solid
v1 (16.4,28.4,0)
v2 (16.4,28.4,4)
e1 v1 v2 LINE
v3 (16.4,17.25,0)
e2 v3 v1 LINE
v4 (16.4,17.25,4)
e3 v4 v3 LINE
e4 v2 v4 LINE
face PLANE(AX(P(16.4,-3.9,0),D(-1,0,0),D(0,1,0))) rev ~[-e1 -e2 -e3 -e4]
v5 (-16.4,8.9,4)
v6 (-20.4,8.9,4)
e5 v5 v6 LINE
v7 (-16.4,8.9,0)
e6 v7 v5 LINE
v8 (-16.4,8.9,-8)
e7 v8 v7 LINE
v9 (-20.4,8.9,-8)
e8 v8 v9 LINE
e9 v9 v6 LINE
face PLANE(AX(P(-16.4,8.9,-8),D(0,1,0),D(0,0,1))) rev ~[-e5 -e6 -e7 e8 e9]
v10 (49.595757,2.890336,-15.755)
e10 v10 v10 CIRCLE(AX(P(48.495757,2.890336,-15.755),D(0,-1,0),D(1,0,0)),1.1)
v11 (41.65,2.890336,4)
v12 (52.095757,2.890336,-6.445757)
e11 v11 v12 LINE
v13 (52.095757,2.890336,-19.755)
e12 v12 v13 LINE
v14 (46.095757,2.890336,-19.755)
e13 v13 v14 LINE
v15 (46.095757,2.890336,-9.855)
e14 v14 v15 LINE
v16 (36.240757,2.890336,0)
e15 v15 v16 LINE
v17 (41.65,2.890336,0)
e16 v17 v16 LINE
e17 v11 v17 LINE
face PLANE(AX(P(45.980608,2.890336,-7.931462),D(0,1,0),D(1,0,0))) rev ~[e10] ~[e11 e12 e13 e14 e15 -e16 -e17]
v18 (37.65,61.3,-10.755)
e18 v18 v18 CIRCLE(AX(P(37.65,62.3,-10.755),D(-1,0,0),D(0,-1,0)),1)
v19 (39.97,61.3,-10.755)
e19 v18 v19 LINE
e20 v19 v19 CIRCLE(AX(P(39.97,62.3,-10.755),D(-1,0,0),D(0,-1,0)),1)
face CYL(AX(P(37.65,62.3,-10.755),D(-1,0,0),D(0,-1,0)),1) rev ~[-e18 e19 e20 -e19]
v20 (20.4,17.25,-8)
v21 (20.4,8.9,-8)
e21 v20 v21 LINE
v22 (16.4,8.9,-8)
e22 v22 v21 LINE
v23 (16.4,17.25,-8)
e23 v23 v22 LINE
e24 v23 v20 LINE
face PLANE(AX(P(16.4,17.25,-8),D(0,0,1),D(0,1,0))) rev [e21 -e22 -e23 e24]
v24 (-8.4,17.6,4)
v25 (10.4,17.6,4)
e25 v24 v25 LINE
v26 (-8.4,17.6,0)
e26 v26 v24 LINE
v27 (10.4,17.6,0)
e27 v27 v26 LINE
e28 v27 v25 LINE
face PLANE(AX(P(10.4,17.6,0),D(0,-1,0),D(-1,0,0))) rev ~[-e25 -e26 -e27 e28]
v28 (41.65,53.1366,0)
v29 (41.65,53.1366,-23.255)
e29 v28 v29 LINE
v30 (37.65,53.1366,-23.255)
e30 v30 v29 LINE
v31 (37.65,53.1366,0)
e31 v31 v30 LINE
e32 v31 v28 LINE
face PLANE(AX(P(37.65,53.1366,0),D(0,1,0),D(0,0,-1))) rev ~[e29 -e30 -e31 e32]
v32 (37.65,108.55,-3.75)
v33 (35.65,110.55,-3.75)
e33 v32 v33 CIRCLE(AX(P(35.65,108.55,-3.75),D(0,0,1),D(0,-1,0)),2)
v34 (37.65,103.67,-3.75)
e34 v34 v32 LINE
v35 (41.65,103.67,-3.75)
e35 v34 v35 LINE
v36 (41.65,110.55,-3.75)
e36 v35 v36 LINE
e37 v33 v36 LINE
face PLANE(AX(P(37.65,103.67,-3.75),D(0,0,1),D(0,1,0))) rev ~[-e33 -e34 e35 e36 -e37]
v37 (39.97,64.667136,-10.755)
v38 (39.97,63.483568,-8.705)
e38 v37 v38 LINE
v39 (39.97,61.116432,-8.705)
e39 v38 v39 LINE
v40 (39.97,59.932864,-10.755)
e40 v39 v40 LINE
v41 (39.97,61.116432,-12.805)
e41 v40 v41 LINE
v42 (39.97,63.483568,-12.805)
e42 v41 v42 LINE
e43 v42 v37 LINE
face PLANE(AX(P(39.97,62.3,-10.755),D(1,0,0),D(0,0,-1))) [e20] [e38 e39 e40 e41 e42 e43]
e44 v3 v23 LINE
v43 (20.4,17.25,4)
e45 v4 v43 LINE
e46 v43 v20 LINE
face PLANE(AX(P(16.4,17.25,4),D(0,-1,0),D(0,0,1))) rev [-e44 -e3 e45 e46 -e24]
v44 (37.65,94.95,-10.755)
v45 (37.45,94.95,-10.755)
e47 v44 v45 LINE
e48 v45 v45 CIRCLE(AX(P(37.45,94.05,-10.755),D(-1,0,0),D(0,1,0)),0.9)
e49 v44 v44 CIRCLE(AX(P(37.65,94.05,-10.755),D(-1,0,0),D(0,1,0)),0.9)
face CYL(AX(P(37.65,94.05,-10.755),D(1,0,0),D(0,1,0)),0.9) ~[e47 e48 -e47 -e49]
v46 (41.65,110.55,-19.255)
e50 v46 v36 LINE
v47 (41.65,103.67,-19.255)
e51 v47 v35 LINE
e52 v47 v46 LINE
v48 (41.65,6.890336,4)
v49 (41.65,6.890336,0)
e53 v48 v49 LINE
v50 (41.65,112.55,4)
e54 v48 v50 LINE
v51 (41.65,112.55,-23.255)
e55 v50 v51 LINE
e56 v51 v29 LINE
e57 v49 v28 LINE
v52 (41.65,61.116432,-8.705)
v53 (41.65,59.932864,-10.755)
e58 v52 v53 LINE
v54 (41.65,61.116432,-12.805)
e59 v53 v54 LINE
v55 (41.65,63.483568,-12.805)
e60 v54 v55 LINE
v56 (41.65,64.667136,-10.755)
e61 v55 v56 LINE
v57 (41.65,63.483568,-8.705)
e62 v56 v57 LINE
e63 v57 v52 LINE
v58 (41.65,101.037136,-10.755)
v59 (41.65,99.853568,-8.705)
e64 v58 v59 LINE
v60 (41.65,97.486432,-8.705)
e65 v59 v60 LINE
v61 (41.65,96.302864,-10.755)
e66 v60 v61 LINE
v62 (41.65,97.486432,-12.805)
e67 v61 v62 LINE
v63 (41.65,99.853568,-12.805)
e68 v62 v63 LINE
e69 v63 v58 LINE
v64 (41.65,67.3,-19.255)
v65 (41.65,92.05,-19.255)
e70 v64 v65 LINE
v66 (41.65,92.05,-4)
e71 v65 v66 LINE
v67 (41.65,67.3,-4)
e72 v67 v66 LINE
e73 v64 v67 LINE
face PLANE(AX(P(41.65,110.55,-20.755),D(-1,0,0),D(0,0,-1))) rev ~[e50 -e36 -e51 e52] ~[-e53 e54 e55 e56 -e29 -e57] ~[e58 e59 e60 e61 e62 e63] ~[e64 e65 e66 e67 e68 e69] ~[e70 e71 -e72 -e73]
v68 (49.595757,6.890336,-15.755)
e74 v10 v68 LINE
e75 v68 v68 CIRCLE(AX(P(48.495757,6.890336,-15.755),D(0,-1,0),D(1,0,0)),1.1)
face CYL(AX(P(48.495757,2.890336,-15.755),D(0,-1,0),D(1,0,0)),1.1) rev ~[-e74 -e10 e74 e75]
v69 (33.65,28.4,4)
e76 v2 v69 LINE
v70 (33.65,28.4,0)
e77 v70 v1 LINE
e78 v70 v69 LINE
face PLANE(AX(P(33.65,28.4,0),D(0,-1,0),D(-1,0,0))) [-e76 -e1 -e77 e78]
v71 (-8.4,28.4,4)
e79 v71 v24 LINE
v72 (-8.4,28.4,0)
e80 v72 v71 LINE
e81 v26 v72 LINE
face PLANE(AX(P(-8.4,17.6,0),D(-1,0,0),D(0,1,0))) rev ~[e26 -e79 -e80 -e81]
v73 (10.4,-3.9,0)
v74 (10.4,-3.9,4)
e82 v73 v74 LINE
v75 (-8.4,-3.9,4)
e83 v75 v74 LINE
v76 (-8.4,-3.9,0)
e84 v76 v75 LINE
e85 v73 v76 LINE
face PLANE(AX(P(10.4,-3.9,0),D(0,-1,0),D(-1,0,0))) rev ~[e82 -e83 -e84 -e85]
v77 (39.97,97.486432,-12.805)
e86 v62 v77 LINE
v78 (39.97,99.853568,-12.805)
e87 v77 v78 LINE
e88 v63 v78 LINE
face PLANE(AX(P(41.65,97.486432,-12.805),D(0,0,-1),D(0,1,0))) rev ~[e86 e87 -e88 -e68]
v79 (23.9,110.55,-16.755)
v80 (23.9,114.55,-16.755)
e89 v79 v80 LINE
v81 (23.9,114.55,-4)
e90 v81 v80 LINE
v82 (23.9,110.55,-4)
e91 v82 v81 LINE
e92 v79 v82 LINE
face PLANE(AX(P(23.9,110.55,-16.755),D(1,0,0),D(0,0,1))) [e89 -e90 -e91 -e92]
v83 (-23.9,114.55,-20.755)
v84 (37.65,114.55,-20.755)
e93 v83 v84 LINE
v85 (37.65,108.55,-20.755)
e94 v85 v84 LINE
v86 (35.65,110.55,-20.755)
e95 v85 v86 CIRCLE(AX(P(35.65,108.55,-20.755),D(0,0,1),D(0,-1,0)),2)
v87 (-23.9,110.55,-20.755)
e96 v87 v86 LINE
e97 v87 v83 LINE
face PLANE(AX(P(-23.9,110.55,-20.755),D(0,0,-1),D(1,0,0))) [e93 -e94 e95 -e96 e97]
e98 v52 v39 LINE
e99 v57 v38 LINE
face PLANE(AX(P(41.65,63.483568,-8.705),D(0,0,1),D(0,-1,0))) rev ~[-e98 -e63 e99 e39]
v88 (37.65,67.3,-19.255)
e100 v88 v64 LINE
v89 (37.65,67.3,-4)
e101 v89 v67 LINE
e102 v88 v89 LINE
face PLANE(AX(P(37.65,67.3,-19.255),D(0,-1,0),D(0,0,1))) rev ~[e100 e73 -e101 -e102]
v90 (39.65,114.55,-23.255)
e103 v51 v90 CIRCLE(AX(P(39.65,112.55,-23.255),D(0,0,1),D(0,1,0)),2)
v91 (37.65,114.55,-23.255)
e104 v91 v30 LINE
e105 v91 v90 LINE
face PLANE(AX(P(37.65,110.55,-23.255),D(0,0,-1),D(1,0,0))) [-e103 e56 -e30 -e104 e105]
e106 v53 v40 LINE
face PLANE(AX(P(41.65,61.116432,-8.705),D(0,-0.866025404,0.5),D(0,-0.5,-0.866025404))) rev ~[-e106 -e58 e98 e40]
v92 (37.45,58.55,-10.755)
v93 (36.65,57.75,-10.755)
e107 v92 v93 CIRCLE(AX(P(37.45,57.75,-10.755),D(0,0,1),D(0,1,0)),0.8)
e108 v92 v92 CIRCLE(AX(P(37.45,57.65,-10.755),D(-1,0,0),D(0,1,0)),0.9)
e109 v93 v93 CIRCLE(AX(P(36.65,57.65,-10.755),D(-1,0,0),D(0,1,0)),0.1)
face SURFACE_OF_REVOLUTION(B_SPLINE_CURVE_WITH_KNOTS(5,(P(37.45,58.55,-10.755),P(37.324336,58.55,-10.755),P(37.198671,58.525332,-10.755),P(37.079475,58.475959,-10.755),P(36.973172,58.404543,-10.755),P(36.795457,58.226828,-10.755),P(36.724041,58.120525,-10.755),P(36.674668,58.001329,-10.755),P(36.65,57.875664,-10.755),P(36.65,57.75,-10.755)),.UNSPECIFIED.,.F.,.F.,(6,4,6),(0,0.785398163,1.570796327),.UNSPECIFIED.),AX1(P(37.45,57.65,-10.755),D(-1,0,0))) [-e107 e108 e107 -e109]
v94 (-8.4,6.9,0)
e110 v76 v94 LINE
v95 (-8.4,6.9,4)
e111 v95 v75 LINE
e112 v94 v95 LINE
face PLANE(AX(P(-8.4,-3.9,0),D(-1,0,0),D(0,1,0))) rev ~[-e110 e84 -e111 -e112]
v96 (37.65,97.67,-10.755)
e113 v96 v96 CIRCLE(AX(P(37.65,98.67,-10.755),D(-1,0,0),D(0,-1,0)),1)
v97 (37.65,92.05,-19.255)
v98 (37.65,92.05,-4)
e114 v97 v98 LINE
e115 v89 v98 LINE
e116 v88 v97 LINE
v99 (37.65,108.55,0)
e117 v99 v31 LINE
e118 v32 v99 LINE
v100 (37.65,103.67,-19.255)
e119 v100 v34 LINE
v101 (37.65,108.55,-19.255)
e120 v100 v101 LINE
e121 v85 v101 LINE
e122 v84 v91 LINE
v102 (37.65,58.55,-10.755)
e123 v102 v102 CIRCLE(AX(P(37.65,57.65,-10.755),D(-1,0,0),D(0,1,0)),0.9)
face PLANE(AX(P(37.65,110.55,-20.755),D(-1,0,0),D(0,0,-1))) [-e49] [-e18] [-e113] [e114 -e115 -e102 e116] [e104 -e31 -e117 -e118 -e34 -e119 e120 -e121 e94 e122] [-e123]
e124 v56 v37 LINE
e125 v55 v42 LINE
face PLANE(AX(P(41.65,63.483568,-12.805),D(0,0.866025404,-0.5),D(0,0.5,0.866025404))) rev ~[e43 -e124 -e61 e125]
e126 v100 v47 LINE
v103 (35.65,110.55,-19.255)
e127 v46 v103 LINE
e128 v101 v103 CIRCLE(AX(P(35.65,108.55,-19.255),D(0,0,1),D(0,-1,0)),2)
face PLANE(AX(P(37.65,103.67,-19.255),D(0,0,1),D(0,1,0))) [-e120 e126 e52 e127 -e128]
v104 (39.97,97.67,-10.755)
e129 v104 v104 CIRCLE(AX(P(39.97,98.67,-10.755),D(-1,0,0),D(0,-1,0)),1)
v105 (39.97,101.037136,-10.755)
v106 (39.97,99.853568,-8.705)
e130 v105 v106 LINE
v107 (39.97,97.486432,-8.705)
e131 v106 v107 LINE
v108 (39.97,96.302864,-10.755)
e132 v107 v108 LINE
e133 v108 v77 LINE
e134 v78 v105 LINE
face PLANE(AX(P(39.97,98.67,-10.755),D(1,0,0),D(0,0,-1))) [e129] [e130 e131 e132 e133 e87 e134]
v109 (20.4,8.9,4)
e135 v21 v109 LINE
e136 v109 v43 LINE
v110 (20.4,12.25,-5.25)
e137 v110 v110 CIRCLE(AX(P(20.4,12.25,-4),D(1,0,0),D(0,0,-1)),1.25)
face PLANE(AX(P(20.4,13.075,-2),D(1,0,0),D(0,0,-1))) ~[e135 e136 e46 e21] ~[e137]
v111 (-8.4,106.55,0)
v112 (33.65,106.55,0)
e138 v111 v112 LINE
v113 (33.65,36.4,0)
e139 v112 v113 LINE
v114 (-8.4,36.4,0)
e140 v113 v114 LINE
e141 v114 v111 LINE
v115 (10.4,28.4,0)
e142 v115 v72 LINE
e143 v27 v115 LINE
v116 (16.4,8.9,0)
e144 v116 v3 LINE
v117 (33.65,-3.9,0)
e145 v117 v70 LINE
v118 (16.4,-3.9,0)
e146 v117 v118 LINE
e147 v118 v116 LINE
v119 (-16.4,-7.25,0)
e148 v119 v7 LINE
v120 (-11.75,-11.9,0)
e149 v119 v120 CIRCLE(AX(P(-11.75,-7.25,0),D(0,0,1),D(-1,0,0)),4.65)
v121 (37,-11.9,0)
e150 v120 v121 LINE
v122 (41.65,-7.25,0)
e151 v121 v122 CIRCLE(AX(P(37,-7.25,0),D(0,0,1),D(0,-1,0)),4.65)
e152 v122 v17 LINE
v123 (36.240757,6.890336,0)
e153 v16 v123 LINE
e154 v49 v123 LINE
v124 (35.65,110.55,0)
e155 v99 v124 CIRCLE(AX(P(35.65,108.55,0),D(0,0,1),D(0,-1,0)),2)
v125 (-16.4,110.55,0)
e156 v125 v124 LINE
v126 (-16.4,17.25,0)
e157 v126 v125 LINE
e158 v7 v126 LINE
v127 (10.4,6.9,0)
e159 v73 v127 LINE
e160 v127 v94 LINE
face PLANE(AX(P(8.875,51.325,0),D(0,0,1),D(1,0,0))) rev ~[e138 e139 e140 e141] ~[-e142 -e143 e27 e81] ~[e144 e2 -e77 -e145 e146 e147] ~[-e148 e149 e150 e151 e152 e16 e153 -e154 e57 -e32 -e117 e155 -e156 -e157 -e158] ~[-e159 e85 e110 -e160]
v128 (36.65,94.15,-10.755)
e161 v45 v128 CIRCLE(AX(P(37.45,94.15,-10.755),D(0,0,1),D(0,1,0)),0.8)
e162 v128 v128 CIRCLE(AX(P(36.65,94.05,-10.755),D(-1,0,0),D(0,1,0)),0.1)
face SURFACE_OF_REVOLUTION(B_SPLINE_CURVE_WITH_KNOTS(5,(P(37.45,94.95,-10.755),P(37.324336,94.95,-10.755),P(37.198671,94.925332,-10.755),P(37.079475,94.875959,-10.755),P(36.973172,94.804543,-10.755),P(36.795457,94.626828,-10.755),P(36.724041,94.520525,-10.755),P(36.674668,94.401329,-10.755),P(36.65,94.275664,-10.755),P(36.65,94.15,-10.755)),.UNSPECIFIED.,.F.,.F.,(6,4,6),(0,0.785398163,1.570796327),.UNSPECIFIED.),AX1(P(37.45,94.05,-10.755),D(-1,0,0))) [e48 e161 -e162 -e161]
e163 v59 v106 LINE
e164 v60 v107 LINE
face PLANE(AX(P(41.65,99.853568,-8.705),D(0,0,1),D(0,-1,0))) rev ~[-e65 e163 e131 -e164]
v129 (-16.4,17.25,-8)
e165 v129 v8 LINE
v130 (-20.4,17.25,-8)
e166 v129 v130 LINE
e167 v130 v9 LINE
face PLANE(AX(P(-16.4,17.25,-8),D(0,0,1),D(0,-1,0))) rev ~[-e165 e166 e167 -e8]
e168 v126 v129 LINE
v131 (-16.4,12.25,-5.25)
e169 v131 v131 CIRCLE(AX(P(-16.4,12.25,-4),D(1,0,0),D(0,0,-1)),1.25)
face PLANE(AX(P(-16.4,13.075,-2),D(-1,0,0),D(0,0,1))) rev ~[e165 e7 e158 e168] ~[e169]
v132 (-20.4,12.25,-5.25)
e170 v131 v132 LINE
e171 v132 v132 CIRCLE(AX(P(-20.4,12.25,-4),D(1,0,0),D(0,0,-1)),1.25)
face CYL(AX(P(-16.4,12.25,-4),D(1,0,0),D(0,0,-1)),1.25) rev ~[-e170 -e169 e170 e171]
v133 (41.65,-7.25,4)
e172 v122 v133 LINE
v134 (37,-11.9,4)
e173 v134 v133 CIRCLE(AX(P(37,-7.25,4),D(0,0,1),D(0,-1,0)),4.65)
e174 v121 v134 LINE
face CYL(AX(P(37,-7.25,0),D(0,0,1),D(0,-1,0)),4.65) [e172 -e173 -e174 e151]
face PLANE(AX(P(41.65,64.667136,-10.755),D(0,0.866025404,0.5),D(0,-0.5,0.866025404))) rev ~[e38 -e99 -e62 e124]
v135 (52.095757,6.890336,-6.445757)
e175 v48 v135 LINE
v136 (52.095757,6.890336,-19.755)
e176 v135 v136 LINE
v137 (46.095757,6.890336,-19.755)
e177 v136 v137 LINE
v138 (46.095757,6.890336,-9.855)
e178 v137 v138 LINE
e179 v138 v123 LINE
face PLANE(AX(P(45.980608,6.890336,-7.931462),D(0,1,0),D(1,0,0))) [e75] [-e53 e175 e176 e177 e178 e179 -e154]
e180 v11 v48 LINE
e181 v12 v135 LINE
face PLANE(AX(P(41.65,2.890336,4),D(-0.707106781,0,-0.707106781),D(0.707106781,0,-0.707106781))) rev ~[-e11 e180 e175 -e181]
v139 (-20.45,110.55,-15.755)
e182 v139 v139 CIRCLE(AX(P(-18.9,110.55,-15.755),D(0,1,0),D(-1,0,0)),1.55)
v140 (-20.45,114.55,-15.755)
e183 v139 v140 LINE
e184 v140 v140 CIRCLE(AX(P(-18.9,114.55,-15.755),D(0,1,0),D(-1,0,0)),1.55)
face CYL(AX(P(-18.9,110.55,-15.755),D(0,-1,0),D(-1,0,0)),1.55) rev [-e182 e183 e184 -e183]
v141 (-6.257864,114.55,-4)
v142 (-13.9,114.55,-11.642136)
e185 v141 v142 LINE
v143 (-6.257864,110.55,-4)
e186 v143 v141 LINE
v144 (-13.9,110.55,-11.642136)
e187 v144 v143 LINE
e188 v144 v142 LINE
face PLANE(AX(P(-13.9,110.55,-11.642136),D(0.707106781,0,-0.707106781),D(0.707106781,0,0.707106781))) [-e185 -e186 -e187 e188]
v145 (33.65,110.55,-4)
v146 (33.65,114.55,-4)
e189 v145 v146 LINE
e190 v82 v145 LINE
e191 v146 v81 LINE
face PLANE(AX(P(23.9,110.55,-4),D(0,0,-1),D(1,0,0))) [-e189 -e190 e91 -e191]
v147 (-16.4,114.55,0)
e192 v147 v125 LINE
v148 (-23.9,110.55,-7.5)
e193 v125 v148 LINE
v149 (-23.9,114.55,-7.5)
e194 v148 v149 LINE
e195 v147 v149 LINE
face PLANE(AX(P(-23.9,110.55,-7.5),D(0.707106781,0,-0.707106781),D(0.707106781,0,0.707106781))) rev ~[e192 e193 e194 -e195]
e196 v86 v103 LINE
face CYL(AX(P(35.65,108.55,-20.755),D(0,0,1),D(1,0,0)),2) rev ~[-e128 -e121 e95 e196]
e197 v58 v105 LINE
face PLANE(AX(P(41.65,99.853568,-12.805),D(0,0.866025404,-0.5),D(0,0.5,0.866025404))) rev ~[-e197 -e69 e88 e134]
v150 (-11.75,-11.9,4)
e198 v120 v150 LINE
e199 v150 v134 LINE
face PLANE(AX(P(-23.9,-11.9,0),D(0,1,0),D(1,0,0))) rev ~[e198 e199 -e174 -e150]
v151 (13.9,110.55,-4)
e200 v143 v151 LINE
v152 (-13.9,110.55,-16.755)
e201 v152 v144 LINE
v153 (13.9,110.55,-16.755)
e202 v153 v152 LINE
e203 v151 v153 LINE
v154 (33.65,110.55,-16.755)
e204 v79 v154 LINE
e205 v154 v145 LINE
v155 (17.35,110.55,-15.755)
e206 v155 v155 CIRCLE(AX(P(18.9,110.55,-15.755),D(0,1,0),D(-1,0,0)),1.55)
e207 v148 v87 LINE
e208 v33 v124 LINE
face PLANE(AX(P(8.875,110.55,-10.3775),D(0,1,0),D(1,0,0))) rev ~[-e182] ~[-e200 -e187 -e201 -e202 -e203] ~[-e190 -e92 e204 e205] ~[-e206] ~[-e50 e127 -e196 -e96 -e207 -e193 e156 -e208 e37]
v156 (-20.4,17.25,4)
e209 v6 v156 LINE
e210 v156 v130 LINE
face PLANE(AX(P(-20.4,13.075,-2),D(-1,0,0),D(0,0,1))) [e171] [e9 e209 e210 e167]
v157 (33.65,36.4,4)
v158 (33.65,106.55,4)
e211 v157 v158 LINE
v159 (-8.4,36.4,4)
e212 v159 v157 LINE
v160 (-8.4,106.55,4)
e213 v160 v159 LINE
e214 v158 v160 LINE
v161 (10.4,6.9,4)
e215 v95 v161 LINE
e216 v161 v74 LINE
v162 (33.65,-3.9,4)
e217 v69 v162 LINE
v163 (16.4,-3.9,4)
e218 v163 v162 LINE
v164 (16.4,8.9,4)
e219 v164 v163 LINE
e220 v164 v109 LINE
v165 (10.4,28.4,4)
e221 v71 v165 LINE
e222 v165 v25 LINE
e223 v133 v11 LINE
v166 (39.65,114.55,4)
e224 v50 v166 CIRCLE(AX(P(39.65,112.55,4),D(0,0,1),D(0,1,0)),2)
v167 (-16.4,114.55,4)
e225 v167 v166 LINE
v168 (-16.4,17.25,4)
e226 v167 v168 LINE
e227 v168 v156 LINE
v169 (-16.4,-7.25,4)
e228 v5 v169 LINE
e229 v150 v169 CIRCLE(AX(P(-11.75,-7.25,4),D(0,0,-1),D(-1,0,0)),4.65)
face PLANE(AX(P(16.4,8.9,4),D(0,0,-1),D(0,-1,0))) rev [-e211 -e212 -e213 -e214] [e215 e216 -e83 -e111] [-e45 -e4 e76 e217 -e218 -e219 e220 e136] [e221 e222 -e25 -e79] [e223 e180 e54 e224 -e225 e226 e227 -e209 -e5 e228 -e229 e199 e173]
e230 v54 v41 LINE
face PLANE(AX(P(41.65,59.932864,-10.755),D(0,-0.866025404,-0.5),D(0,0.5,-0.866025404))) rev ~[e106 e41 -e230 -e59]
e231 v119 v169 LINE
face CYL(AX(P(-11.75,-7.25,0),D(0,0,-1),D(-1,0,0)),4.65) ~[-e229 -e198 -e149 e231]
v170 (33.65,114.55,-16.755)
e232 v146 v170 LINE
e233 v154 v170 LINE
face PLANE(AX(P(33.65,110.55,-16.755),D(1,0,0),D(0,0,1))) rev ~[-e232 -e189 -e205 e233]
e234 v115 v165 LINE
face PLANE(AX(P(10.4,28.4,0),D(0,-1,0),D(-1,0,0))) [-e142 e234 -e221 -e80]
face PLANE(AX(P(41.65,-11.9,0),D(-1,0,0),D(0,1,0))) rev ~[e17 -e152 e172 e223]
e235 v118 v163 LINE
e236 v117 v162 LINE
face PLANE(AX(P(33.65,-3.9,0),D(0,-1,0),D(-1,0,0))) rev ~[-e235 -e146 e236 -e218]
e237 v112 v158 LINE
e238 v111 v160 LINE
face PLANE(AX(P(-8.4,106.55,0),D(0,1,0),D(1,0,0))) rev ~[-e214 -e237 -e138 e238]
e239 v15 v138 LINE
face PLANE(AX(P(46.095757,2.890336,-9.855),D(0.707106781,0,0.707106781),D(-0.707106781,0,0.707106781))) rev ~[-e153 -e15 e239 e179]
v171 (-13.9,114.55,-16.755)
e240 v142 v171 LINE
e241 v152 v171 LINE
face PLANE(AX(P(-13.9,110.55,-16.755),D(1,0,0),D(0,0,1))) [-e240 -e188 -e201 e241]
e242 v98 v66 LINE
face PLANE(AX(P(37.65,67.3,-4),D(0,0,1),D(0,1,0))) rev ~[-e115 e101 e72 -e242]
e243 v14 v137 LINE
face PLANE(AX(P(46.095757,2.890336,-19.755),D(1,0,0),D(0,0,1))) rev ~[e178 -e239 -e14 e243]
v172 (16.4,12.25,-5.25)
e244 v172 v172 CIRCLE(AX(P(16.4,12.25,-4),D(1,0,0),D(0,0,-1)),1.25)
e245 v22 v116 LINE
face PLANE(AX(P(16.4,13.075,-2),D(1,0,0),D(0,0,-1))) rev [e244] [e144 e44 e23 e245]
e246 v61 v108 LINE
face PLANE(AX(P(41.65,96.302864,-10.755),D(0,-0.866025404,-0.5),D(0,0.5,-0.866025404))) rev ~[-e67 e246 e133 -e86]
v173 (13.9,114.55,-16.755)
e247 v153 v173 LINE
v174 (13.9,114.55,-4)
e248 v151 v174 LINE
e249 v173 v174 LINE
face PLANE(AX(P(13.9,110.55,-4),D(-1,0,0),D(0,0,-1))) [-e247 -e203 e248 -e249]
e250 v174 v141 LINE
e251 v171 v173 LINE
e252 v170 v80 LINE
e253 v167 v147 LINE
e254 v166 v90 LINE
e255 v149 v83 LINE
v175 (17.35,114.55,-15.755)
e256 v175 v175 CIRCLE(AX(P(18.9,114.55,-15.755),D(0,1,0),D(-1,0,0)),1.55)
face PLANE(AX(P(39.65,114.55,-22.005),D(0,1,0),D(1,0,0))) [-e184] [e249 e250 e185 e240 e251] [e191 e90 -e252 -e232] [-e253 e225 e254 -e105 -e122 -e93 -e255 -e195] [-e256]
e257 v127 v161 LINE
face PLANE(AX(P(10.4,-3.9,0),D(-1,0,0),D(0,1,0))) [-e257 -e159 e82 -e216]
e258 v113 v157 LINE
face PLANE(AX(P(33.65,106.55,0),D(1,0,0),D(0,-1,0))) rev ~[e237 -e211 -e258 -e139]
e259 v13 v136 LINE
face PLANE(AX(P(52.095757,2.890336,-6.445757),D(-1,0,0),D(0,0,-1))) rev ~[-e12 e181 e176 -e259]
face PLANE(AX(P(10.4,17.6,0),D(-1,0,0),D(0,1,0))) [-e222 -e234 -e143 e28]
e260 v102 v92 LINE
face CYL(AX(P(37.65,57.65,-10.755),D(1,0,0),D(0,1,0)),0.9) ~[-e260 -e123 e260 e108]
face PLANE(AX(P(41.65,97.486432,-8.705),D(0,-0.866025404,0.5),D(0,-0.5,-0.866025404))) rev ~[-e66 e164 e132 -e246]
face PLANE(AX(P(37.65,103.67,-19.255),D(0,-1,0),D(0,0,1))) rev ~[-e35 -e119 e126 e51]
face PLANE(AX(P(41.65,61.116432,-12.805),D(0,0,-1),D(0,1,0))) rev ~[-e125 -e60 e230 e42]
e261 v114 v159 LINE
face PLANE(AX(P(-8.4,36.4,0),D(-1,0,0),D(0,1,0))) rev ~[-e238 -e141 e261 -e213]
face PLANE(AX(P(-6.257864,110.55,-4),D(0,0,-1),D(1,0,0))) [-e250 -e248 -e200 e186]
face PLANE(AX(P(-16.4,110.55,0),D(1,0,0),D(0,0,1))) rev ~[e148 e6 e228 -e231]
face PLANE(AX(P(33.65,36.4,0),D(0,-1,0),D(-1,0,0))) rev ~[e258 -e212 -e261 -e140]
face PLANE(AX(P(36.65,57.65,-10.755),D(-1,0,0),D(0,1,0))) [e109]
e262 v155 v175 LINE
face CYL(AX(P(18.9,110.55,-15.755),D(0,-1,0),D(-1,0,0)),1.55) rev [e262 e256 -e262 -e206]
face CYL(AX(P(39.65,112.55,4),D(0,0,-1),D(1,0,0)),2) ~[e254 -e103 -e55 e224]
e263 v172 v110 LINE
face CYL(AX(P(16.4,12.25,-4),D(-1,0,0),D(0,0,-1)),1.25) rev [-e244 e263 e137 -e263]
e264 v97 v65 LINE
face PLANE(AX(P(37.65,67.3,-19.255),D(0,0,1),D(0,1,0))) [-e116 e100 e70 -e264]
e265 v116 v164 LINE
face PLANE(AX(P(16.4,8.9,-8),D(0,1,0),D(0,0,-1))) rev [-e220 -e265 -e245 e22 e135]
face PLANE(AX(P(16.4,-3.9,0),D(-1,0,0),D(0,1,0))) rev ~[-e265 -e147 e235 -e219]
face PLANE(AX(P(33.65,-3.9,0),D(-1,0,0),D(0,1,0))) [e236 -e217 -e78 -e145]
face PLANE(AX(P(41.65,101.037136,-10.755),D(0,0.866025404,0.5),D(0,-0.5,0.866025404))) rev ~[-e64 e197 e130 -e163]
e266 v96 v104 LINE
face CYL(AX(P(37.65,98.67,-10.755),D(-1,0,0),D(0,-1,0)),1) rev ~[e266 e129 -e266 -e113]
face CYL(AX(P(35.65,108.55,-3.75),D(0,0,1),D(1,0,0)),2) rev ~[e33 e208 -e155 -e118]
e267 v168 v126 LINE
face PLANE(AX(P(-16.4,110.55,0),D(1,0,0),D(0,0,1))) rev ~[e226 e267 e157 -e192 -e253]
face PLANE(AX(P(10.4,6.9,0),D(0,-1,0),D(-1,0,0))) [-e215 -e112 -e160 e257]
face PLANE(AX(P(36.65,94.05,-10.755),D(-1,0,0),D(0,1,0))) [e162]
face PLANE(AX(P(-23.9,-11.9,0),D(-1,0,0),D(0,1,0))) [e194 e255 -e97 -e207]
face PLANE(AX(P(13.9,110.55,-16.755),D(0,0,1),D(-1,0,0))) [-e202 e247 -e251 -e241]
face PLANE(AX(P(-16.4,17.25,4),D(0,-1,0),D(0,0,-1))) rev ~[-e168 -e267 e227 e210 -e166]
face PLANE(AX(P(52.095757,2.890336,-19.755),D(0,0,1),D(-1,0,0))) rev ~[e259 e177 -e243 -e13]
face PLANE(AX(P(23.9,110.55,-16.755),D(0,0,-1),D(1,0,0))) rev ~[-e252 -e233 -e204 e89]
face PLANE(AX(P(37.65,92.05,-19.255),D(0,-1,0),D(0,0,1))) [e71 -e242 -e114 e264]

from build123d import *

# Parameters (mm, degrees)
EXTRUDE_5_DEPTH      = 4
SKETCH_5_W           = 65.55
SKETCH_5_H           = 20.755
SKETCH_5_R           = 1.55
EXTRUDE_6_DEPTH      = 4
SKETCH_7_W           = 65.55
SKETCH_7_H           = 126.45
EXTRUDE_8_DEPTH      = 4
SKETCH_11_W          = 17.25
SKETCH_11_H          = 32.3
SKETCH_11_W_2        = 18.8
SKETCH_11_H_2        = 10.8
CUT_EXTRUDE_3_DEPTH  = 125.085535116
EXTRUDE_9_DEPTH      = 4
CUT_EXTRUDE_4_DEPTH  = 10
SKETCH_14_W          = 9.75
SKETCH_14_H          = 12.755
CUT_EXTRUDE_5_DEPTH  = 10
SKETCH_16_W          = 15.255
SKETCH_16_H          = 24.75
SKETCH_16_W_2        = 15.505
SKETCH_16_H_2        = 6.88
CUT_EXTRUDE_6_DEPTH  = 133.101854737
EXTRUDE_2_DEPTH      = 4
CUT_EXTRUDE_7_REACH  = 127.39
SKETCH_19_R          = 1.1
SKETCH_21_W          = 4
SKETCH_21_H          = 2.5
EXTRUDE_11_DEPTH     = 4
FILLET_2_R           = 2
FILLET_3_R           = 4.65
SKETCH_24_R          = 1
CUT_EXTRUDE_10_DEPTH = 133.101854737
SKETCH_25_R          = 0.9
EXTRUDE_12_DEPTH     = 1
FILLET_4_R           = 0.8
CUT_EXTRUDE_11_DEPTH = 1.68


with BuildPart() as part:
    # 草图4 → 凸台-拉伸5 (new body)
    with BuildSketch(Plane(origin=(37.65, 0, 0), x_dir=(0, 0, -1), z_dir=(1, 0, 0))):
        Polygon((23.255, 110.55), (19.873443934, 110.55), (11.636556066, 110.55), (0, 110.55), (0, 53.1366), (23.255, 53.1366), align=None)
    extrude(amount=EXTRUDE_5_DEPTH)

    # 草图5 → 凸台-拉伸6 (add)
    with BuildSketch(Plane(origin=(0, 110.55, 0), x_dir=(1, 0, 0), z_dir=(0, 1, 0))):
        with Locations((8.875, 10.3775)):
            Rectangle(SKETCH_5_W, SKETCH_5_H)
        with Locations(Location((-18.9, 15.755, 0), (0, 0, 180))):
            Circle(SKETCH_5_R, mode=Mode.SUBTRACT)
        with Locations(Location((18.9, 15.755, 0), (0, 0, 180))):
            Circle(SKETCH_5_R, mode=Mode.SUBTRACT)
    extrude(amount=EXTRUDE_6_DEPTH)

    # 草图7 → 凸台-拉伸8 (add)
    with BuildSketch(Plane.XY):
        with Locations((8.875, 51.325)):
            Rectangle(SKETCH_7_W, SKETCH_7_H)
    extrude(amount=EXTRUDE_8_DEPTH)

    # 草图11 → 切除-拉伸3 (cut, through all)
    with BuildSketch(Plane(origin=(0, 0, 0), x_dir=(-1, 0, 0), z_dir=(0, 0, -1))):
        with Locations((-25.025, 12.25)):
            Rectangle(SKETCH_11_W, SKETCH_11_H)
        Polygon((-33.65, 106.55), (-33.65, 36.4), (-16.4, 36.4), (8.4, 36.4), (8.4, 106.55), align=None)
        with Locations((-1, 1.5)):
            Rectangle(SKETCH_11_W_2, SKETCH_11_H_2)
        with Locations((-1, 23)):
            Rectangle(SKETCH_11_W_2, SKETCH_11_H_2)
        with BuildLine():
            ThreePointArc((16.4, -7.25), (15.038046533, -10.538046533), (11.75, -11.9))
            Line((11.75, -11.9), (23.9, -11.9))
            Line((23.9, -11.9), (23.9, 106.55))
            Line((23.9, 106.55), (16.4, 106.55))
            Line((16.4, 106.55), (16.4, -7.25))
        make_face()
    extrude(amount=-CUT_EXTRUDE_3_DEPTH, mode=Mode.SUBTRACT)

    # 草图12 → 凸台-拉伸9 (add)
    with BuildSketch(Plane(origin=(0, 2.890336251, 0), x_dir=(1, 0, 0), z_dir=(0, 1, 0))):
        Polygon((52.095757056, 19.755), (46.095757056, 19.755), (46.095757056, 9.855), (36.240757056, 0), (41.65, -4), (52.095757056, 6.445757056), align=None)
    extrude(amount=EXTRUDE_9_DEPTH)

    # 草图13 → 切除-拉伸4 (cut, symmetric)
    with BuildSketch(Plane.XZ.offset(-110.55)):
        Polygon((-23.9, -7.5), (-16.4, 0), (-16.4, 4), (-23.9, 4), align=None)
    extrude(amount=CUT_EXTRUDE_4_DEPTH, both=True, mode=Mode.SUBTRACT)

    # 草图14 → 切除-拉伸5 (cut)
    with BuildSketch(Plane.XZ.offset(-110.55)):
        with Locations((28.775, -10.3775)):
            Rectangle(SKETCH_14_W, SKETCH_14_H)
        Polygon((13.9, -16.755), (-13.9, -16.755), (-13.9, -11.642135624), (-6.257864376, -4), (13.9, -4), align=None)
    extrude(amount=-CUT_EXTRUDE_5_DEPTH, mode=Mode.SUBTRACT)

    # 草图16 → 切除-拉伸6 (cut, through all)
    with BuildSketch(Plane.ZY.offset(-37.65)):
        with Locations((-11.6275, 79.675)):
            Rectangle(SKETCH_16_W, SKETCH_16_H)
        with Locations((-11.5025, 107.11)):
            Rectangle(SKETCH_16_W_2, SKETCH_16_H_2)
    extrude(amount=-CUT_EXTRUDE_6_DEPTH, mode=Mode.SUBTRACT)

    # 草图2 → 凸台-拉伸2 (add)
    with BuildSketch(Plane.ZY.offset(16.4)):
        Polygon((-8, 12.25), (-8, 8.9), (4, 8.9), (4, 17.25), (-8, 17.25), align=None)
        with BuildLine():
            ThreePointArc((-2.75, 12.25), (-4, 11), (-5.25, 12.25))
            ThreePointArc((-5.25, 12.25), (-4, 13.5), (-2.75, 12.25))
        make_face(mode=Mode.SUBTRACT)
    extrude_2 = extrude(amount=EXTRUDE_2_DEPTH)

    # 镜向10: 凸台-拉伸2 across plane
    add(extrude_2.mirror(Plane(origin=(0, 0, 0), x_dir=(0, 0, 1), z_dir=(1, 0, 0))))

    # 草图19 → 切除-拉伸7 (cut, up to next)
    with BuildSketch(Plane.XZ.offset(-2.890336251), mode=Mode.PRIVATE) as cut_extrude_7_sk1:
        with Locations((48.495757056, -15.755)):
            Circle(SKETCH_19_R)
    cut_extrude_7_tool1 = extrude(cut_extrude_7_sk1.sketch, amount=-CUT_EXTRUDE_7_REACH, mode=Mode.PRIVATE) & part.part
    add(cut_extrude_7_tool1.solids().sort_by_distance((48.495757, 2.890336, -15.755))[0], mode=Mode.SUBTRACT)

    # 草图21 → 凸台-拉伸11 (add)
    with BuildSketch(Plane(origin=(0, 110.55, 0), x_dir=(1, 0, 0), z_dir=(0, 1, 0))):
        with Locations((39.65, 22.005)):
            Rectangle(SKETCH_21_W, SKETCH_21_H)
    extrude(amount=EXTRUDE_11_DEPTH)

    # 圆角2
    fillet_2_edges = [part.edges().sort_by_distance(p)[0] for p in [
        (37.65, 110.55, -20.005),
        (41.65, 114.55, -9.6275),
        (37.65, 110.55, -1.875),
    ]]
    fillet(fillet_2_edges, radius=FILLET_2_R)

    # 圆角3
    fillet_3_edges = [part.edges().sort_by_distance(p)[0] for p in [
        (41.65, -11.9, 2),
    ]]
    fillet(fillet_3_edges, radius=FILLET_3_R)

    # 草图24 → 切除-拉伸10 (cut, through all)
    with BuildSketch(Plane.ZY.offset(-37.65)):
        with Locations(Location((-10.755, 62.3, 0), (0, 0, 270))):
            Circle(SKETCH_24_R)
        with Locations(Location((-10.755, 98.67, 0), (0, 0, 270))):
            Circle(SKETCH_24_R)
    extrude(amount=-CUT_EXTRUDE_10_DEPTH, mode=Mode.SUBTRACT)

    # 草图25 → 凸台-拉伸12 (add)
    with BuildSketch(Plane.ZY.offset(-37.65)):
        with Locations(Location((-10.755, 57.65, 0), (0, 0, 90))):
            Circle(SKETCH_25_R)
        with Locations(Location((-10.755, 94.05, 0), (0, 0, 90))):
            Circle(SKETCH_25_R)
    extrude(amount=EXTRUDE_12_DEPTH)

    # 圆角4
    fillet_4_edges = [part.edges().sort_by_distance(p)[0] for p in [
        (36.65, 93.15, -10.755),
        (36.65, 56.75, -10.755),
    ]]
    fillet(fillet_4_edges, radius=FILLET_4_R)

    # 草图27 → 切除-拉伸11 (cut)
    with BuildSketch(Plane(origin=(41.65, 0, 0), x_dir=(0, 0, -1), z_dir=(1, 0, 0))):
        Polygon((10.755, 96.302863896), (12.805, 97.486431948), (12.805, 99.853568052), (10.755, 101.037136104), (8.705, 99.853568052), (8.705, 97.486431948), align=None)
        Polygon((10.755, 59.932863896), (12.805, 61.116431948), (12.805, 63.483568052), (10.755, 64.667136104), (8.705, 63.483568052), (8.705, 61.116431948), align=None)
    extrude(amount=-CUT_EXTRUDE_11_DEPTH, mode=Mode.SUBTRACT)


solid = part.part
